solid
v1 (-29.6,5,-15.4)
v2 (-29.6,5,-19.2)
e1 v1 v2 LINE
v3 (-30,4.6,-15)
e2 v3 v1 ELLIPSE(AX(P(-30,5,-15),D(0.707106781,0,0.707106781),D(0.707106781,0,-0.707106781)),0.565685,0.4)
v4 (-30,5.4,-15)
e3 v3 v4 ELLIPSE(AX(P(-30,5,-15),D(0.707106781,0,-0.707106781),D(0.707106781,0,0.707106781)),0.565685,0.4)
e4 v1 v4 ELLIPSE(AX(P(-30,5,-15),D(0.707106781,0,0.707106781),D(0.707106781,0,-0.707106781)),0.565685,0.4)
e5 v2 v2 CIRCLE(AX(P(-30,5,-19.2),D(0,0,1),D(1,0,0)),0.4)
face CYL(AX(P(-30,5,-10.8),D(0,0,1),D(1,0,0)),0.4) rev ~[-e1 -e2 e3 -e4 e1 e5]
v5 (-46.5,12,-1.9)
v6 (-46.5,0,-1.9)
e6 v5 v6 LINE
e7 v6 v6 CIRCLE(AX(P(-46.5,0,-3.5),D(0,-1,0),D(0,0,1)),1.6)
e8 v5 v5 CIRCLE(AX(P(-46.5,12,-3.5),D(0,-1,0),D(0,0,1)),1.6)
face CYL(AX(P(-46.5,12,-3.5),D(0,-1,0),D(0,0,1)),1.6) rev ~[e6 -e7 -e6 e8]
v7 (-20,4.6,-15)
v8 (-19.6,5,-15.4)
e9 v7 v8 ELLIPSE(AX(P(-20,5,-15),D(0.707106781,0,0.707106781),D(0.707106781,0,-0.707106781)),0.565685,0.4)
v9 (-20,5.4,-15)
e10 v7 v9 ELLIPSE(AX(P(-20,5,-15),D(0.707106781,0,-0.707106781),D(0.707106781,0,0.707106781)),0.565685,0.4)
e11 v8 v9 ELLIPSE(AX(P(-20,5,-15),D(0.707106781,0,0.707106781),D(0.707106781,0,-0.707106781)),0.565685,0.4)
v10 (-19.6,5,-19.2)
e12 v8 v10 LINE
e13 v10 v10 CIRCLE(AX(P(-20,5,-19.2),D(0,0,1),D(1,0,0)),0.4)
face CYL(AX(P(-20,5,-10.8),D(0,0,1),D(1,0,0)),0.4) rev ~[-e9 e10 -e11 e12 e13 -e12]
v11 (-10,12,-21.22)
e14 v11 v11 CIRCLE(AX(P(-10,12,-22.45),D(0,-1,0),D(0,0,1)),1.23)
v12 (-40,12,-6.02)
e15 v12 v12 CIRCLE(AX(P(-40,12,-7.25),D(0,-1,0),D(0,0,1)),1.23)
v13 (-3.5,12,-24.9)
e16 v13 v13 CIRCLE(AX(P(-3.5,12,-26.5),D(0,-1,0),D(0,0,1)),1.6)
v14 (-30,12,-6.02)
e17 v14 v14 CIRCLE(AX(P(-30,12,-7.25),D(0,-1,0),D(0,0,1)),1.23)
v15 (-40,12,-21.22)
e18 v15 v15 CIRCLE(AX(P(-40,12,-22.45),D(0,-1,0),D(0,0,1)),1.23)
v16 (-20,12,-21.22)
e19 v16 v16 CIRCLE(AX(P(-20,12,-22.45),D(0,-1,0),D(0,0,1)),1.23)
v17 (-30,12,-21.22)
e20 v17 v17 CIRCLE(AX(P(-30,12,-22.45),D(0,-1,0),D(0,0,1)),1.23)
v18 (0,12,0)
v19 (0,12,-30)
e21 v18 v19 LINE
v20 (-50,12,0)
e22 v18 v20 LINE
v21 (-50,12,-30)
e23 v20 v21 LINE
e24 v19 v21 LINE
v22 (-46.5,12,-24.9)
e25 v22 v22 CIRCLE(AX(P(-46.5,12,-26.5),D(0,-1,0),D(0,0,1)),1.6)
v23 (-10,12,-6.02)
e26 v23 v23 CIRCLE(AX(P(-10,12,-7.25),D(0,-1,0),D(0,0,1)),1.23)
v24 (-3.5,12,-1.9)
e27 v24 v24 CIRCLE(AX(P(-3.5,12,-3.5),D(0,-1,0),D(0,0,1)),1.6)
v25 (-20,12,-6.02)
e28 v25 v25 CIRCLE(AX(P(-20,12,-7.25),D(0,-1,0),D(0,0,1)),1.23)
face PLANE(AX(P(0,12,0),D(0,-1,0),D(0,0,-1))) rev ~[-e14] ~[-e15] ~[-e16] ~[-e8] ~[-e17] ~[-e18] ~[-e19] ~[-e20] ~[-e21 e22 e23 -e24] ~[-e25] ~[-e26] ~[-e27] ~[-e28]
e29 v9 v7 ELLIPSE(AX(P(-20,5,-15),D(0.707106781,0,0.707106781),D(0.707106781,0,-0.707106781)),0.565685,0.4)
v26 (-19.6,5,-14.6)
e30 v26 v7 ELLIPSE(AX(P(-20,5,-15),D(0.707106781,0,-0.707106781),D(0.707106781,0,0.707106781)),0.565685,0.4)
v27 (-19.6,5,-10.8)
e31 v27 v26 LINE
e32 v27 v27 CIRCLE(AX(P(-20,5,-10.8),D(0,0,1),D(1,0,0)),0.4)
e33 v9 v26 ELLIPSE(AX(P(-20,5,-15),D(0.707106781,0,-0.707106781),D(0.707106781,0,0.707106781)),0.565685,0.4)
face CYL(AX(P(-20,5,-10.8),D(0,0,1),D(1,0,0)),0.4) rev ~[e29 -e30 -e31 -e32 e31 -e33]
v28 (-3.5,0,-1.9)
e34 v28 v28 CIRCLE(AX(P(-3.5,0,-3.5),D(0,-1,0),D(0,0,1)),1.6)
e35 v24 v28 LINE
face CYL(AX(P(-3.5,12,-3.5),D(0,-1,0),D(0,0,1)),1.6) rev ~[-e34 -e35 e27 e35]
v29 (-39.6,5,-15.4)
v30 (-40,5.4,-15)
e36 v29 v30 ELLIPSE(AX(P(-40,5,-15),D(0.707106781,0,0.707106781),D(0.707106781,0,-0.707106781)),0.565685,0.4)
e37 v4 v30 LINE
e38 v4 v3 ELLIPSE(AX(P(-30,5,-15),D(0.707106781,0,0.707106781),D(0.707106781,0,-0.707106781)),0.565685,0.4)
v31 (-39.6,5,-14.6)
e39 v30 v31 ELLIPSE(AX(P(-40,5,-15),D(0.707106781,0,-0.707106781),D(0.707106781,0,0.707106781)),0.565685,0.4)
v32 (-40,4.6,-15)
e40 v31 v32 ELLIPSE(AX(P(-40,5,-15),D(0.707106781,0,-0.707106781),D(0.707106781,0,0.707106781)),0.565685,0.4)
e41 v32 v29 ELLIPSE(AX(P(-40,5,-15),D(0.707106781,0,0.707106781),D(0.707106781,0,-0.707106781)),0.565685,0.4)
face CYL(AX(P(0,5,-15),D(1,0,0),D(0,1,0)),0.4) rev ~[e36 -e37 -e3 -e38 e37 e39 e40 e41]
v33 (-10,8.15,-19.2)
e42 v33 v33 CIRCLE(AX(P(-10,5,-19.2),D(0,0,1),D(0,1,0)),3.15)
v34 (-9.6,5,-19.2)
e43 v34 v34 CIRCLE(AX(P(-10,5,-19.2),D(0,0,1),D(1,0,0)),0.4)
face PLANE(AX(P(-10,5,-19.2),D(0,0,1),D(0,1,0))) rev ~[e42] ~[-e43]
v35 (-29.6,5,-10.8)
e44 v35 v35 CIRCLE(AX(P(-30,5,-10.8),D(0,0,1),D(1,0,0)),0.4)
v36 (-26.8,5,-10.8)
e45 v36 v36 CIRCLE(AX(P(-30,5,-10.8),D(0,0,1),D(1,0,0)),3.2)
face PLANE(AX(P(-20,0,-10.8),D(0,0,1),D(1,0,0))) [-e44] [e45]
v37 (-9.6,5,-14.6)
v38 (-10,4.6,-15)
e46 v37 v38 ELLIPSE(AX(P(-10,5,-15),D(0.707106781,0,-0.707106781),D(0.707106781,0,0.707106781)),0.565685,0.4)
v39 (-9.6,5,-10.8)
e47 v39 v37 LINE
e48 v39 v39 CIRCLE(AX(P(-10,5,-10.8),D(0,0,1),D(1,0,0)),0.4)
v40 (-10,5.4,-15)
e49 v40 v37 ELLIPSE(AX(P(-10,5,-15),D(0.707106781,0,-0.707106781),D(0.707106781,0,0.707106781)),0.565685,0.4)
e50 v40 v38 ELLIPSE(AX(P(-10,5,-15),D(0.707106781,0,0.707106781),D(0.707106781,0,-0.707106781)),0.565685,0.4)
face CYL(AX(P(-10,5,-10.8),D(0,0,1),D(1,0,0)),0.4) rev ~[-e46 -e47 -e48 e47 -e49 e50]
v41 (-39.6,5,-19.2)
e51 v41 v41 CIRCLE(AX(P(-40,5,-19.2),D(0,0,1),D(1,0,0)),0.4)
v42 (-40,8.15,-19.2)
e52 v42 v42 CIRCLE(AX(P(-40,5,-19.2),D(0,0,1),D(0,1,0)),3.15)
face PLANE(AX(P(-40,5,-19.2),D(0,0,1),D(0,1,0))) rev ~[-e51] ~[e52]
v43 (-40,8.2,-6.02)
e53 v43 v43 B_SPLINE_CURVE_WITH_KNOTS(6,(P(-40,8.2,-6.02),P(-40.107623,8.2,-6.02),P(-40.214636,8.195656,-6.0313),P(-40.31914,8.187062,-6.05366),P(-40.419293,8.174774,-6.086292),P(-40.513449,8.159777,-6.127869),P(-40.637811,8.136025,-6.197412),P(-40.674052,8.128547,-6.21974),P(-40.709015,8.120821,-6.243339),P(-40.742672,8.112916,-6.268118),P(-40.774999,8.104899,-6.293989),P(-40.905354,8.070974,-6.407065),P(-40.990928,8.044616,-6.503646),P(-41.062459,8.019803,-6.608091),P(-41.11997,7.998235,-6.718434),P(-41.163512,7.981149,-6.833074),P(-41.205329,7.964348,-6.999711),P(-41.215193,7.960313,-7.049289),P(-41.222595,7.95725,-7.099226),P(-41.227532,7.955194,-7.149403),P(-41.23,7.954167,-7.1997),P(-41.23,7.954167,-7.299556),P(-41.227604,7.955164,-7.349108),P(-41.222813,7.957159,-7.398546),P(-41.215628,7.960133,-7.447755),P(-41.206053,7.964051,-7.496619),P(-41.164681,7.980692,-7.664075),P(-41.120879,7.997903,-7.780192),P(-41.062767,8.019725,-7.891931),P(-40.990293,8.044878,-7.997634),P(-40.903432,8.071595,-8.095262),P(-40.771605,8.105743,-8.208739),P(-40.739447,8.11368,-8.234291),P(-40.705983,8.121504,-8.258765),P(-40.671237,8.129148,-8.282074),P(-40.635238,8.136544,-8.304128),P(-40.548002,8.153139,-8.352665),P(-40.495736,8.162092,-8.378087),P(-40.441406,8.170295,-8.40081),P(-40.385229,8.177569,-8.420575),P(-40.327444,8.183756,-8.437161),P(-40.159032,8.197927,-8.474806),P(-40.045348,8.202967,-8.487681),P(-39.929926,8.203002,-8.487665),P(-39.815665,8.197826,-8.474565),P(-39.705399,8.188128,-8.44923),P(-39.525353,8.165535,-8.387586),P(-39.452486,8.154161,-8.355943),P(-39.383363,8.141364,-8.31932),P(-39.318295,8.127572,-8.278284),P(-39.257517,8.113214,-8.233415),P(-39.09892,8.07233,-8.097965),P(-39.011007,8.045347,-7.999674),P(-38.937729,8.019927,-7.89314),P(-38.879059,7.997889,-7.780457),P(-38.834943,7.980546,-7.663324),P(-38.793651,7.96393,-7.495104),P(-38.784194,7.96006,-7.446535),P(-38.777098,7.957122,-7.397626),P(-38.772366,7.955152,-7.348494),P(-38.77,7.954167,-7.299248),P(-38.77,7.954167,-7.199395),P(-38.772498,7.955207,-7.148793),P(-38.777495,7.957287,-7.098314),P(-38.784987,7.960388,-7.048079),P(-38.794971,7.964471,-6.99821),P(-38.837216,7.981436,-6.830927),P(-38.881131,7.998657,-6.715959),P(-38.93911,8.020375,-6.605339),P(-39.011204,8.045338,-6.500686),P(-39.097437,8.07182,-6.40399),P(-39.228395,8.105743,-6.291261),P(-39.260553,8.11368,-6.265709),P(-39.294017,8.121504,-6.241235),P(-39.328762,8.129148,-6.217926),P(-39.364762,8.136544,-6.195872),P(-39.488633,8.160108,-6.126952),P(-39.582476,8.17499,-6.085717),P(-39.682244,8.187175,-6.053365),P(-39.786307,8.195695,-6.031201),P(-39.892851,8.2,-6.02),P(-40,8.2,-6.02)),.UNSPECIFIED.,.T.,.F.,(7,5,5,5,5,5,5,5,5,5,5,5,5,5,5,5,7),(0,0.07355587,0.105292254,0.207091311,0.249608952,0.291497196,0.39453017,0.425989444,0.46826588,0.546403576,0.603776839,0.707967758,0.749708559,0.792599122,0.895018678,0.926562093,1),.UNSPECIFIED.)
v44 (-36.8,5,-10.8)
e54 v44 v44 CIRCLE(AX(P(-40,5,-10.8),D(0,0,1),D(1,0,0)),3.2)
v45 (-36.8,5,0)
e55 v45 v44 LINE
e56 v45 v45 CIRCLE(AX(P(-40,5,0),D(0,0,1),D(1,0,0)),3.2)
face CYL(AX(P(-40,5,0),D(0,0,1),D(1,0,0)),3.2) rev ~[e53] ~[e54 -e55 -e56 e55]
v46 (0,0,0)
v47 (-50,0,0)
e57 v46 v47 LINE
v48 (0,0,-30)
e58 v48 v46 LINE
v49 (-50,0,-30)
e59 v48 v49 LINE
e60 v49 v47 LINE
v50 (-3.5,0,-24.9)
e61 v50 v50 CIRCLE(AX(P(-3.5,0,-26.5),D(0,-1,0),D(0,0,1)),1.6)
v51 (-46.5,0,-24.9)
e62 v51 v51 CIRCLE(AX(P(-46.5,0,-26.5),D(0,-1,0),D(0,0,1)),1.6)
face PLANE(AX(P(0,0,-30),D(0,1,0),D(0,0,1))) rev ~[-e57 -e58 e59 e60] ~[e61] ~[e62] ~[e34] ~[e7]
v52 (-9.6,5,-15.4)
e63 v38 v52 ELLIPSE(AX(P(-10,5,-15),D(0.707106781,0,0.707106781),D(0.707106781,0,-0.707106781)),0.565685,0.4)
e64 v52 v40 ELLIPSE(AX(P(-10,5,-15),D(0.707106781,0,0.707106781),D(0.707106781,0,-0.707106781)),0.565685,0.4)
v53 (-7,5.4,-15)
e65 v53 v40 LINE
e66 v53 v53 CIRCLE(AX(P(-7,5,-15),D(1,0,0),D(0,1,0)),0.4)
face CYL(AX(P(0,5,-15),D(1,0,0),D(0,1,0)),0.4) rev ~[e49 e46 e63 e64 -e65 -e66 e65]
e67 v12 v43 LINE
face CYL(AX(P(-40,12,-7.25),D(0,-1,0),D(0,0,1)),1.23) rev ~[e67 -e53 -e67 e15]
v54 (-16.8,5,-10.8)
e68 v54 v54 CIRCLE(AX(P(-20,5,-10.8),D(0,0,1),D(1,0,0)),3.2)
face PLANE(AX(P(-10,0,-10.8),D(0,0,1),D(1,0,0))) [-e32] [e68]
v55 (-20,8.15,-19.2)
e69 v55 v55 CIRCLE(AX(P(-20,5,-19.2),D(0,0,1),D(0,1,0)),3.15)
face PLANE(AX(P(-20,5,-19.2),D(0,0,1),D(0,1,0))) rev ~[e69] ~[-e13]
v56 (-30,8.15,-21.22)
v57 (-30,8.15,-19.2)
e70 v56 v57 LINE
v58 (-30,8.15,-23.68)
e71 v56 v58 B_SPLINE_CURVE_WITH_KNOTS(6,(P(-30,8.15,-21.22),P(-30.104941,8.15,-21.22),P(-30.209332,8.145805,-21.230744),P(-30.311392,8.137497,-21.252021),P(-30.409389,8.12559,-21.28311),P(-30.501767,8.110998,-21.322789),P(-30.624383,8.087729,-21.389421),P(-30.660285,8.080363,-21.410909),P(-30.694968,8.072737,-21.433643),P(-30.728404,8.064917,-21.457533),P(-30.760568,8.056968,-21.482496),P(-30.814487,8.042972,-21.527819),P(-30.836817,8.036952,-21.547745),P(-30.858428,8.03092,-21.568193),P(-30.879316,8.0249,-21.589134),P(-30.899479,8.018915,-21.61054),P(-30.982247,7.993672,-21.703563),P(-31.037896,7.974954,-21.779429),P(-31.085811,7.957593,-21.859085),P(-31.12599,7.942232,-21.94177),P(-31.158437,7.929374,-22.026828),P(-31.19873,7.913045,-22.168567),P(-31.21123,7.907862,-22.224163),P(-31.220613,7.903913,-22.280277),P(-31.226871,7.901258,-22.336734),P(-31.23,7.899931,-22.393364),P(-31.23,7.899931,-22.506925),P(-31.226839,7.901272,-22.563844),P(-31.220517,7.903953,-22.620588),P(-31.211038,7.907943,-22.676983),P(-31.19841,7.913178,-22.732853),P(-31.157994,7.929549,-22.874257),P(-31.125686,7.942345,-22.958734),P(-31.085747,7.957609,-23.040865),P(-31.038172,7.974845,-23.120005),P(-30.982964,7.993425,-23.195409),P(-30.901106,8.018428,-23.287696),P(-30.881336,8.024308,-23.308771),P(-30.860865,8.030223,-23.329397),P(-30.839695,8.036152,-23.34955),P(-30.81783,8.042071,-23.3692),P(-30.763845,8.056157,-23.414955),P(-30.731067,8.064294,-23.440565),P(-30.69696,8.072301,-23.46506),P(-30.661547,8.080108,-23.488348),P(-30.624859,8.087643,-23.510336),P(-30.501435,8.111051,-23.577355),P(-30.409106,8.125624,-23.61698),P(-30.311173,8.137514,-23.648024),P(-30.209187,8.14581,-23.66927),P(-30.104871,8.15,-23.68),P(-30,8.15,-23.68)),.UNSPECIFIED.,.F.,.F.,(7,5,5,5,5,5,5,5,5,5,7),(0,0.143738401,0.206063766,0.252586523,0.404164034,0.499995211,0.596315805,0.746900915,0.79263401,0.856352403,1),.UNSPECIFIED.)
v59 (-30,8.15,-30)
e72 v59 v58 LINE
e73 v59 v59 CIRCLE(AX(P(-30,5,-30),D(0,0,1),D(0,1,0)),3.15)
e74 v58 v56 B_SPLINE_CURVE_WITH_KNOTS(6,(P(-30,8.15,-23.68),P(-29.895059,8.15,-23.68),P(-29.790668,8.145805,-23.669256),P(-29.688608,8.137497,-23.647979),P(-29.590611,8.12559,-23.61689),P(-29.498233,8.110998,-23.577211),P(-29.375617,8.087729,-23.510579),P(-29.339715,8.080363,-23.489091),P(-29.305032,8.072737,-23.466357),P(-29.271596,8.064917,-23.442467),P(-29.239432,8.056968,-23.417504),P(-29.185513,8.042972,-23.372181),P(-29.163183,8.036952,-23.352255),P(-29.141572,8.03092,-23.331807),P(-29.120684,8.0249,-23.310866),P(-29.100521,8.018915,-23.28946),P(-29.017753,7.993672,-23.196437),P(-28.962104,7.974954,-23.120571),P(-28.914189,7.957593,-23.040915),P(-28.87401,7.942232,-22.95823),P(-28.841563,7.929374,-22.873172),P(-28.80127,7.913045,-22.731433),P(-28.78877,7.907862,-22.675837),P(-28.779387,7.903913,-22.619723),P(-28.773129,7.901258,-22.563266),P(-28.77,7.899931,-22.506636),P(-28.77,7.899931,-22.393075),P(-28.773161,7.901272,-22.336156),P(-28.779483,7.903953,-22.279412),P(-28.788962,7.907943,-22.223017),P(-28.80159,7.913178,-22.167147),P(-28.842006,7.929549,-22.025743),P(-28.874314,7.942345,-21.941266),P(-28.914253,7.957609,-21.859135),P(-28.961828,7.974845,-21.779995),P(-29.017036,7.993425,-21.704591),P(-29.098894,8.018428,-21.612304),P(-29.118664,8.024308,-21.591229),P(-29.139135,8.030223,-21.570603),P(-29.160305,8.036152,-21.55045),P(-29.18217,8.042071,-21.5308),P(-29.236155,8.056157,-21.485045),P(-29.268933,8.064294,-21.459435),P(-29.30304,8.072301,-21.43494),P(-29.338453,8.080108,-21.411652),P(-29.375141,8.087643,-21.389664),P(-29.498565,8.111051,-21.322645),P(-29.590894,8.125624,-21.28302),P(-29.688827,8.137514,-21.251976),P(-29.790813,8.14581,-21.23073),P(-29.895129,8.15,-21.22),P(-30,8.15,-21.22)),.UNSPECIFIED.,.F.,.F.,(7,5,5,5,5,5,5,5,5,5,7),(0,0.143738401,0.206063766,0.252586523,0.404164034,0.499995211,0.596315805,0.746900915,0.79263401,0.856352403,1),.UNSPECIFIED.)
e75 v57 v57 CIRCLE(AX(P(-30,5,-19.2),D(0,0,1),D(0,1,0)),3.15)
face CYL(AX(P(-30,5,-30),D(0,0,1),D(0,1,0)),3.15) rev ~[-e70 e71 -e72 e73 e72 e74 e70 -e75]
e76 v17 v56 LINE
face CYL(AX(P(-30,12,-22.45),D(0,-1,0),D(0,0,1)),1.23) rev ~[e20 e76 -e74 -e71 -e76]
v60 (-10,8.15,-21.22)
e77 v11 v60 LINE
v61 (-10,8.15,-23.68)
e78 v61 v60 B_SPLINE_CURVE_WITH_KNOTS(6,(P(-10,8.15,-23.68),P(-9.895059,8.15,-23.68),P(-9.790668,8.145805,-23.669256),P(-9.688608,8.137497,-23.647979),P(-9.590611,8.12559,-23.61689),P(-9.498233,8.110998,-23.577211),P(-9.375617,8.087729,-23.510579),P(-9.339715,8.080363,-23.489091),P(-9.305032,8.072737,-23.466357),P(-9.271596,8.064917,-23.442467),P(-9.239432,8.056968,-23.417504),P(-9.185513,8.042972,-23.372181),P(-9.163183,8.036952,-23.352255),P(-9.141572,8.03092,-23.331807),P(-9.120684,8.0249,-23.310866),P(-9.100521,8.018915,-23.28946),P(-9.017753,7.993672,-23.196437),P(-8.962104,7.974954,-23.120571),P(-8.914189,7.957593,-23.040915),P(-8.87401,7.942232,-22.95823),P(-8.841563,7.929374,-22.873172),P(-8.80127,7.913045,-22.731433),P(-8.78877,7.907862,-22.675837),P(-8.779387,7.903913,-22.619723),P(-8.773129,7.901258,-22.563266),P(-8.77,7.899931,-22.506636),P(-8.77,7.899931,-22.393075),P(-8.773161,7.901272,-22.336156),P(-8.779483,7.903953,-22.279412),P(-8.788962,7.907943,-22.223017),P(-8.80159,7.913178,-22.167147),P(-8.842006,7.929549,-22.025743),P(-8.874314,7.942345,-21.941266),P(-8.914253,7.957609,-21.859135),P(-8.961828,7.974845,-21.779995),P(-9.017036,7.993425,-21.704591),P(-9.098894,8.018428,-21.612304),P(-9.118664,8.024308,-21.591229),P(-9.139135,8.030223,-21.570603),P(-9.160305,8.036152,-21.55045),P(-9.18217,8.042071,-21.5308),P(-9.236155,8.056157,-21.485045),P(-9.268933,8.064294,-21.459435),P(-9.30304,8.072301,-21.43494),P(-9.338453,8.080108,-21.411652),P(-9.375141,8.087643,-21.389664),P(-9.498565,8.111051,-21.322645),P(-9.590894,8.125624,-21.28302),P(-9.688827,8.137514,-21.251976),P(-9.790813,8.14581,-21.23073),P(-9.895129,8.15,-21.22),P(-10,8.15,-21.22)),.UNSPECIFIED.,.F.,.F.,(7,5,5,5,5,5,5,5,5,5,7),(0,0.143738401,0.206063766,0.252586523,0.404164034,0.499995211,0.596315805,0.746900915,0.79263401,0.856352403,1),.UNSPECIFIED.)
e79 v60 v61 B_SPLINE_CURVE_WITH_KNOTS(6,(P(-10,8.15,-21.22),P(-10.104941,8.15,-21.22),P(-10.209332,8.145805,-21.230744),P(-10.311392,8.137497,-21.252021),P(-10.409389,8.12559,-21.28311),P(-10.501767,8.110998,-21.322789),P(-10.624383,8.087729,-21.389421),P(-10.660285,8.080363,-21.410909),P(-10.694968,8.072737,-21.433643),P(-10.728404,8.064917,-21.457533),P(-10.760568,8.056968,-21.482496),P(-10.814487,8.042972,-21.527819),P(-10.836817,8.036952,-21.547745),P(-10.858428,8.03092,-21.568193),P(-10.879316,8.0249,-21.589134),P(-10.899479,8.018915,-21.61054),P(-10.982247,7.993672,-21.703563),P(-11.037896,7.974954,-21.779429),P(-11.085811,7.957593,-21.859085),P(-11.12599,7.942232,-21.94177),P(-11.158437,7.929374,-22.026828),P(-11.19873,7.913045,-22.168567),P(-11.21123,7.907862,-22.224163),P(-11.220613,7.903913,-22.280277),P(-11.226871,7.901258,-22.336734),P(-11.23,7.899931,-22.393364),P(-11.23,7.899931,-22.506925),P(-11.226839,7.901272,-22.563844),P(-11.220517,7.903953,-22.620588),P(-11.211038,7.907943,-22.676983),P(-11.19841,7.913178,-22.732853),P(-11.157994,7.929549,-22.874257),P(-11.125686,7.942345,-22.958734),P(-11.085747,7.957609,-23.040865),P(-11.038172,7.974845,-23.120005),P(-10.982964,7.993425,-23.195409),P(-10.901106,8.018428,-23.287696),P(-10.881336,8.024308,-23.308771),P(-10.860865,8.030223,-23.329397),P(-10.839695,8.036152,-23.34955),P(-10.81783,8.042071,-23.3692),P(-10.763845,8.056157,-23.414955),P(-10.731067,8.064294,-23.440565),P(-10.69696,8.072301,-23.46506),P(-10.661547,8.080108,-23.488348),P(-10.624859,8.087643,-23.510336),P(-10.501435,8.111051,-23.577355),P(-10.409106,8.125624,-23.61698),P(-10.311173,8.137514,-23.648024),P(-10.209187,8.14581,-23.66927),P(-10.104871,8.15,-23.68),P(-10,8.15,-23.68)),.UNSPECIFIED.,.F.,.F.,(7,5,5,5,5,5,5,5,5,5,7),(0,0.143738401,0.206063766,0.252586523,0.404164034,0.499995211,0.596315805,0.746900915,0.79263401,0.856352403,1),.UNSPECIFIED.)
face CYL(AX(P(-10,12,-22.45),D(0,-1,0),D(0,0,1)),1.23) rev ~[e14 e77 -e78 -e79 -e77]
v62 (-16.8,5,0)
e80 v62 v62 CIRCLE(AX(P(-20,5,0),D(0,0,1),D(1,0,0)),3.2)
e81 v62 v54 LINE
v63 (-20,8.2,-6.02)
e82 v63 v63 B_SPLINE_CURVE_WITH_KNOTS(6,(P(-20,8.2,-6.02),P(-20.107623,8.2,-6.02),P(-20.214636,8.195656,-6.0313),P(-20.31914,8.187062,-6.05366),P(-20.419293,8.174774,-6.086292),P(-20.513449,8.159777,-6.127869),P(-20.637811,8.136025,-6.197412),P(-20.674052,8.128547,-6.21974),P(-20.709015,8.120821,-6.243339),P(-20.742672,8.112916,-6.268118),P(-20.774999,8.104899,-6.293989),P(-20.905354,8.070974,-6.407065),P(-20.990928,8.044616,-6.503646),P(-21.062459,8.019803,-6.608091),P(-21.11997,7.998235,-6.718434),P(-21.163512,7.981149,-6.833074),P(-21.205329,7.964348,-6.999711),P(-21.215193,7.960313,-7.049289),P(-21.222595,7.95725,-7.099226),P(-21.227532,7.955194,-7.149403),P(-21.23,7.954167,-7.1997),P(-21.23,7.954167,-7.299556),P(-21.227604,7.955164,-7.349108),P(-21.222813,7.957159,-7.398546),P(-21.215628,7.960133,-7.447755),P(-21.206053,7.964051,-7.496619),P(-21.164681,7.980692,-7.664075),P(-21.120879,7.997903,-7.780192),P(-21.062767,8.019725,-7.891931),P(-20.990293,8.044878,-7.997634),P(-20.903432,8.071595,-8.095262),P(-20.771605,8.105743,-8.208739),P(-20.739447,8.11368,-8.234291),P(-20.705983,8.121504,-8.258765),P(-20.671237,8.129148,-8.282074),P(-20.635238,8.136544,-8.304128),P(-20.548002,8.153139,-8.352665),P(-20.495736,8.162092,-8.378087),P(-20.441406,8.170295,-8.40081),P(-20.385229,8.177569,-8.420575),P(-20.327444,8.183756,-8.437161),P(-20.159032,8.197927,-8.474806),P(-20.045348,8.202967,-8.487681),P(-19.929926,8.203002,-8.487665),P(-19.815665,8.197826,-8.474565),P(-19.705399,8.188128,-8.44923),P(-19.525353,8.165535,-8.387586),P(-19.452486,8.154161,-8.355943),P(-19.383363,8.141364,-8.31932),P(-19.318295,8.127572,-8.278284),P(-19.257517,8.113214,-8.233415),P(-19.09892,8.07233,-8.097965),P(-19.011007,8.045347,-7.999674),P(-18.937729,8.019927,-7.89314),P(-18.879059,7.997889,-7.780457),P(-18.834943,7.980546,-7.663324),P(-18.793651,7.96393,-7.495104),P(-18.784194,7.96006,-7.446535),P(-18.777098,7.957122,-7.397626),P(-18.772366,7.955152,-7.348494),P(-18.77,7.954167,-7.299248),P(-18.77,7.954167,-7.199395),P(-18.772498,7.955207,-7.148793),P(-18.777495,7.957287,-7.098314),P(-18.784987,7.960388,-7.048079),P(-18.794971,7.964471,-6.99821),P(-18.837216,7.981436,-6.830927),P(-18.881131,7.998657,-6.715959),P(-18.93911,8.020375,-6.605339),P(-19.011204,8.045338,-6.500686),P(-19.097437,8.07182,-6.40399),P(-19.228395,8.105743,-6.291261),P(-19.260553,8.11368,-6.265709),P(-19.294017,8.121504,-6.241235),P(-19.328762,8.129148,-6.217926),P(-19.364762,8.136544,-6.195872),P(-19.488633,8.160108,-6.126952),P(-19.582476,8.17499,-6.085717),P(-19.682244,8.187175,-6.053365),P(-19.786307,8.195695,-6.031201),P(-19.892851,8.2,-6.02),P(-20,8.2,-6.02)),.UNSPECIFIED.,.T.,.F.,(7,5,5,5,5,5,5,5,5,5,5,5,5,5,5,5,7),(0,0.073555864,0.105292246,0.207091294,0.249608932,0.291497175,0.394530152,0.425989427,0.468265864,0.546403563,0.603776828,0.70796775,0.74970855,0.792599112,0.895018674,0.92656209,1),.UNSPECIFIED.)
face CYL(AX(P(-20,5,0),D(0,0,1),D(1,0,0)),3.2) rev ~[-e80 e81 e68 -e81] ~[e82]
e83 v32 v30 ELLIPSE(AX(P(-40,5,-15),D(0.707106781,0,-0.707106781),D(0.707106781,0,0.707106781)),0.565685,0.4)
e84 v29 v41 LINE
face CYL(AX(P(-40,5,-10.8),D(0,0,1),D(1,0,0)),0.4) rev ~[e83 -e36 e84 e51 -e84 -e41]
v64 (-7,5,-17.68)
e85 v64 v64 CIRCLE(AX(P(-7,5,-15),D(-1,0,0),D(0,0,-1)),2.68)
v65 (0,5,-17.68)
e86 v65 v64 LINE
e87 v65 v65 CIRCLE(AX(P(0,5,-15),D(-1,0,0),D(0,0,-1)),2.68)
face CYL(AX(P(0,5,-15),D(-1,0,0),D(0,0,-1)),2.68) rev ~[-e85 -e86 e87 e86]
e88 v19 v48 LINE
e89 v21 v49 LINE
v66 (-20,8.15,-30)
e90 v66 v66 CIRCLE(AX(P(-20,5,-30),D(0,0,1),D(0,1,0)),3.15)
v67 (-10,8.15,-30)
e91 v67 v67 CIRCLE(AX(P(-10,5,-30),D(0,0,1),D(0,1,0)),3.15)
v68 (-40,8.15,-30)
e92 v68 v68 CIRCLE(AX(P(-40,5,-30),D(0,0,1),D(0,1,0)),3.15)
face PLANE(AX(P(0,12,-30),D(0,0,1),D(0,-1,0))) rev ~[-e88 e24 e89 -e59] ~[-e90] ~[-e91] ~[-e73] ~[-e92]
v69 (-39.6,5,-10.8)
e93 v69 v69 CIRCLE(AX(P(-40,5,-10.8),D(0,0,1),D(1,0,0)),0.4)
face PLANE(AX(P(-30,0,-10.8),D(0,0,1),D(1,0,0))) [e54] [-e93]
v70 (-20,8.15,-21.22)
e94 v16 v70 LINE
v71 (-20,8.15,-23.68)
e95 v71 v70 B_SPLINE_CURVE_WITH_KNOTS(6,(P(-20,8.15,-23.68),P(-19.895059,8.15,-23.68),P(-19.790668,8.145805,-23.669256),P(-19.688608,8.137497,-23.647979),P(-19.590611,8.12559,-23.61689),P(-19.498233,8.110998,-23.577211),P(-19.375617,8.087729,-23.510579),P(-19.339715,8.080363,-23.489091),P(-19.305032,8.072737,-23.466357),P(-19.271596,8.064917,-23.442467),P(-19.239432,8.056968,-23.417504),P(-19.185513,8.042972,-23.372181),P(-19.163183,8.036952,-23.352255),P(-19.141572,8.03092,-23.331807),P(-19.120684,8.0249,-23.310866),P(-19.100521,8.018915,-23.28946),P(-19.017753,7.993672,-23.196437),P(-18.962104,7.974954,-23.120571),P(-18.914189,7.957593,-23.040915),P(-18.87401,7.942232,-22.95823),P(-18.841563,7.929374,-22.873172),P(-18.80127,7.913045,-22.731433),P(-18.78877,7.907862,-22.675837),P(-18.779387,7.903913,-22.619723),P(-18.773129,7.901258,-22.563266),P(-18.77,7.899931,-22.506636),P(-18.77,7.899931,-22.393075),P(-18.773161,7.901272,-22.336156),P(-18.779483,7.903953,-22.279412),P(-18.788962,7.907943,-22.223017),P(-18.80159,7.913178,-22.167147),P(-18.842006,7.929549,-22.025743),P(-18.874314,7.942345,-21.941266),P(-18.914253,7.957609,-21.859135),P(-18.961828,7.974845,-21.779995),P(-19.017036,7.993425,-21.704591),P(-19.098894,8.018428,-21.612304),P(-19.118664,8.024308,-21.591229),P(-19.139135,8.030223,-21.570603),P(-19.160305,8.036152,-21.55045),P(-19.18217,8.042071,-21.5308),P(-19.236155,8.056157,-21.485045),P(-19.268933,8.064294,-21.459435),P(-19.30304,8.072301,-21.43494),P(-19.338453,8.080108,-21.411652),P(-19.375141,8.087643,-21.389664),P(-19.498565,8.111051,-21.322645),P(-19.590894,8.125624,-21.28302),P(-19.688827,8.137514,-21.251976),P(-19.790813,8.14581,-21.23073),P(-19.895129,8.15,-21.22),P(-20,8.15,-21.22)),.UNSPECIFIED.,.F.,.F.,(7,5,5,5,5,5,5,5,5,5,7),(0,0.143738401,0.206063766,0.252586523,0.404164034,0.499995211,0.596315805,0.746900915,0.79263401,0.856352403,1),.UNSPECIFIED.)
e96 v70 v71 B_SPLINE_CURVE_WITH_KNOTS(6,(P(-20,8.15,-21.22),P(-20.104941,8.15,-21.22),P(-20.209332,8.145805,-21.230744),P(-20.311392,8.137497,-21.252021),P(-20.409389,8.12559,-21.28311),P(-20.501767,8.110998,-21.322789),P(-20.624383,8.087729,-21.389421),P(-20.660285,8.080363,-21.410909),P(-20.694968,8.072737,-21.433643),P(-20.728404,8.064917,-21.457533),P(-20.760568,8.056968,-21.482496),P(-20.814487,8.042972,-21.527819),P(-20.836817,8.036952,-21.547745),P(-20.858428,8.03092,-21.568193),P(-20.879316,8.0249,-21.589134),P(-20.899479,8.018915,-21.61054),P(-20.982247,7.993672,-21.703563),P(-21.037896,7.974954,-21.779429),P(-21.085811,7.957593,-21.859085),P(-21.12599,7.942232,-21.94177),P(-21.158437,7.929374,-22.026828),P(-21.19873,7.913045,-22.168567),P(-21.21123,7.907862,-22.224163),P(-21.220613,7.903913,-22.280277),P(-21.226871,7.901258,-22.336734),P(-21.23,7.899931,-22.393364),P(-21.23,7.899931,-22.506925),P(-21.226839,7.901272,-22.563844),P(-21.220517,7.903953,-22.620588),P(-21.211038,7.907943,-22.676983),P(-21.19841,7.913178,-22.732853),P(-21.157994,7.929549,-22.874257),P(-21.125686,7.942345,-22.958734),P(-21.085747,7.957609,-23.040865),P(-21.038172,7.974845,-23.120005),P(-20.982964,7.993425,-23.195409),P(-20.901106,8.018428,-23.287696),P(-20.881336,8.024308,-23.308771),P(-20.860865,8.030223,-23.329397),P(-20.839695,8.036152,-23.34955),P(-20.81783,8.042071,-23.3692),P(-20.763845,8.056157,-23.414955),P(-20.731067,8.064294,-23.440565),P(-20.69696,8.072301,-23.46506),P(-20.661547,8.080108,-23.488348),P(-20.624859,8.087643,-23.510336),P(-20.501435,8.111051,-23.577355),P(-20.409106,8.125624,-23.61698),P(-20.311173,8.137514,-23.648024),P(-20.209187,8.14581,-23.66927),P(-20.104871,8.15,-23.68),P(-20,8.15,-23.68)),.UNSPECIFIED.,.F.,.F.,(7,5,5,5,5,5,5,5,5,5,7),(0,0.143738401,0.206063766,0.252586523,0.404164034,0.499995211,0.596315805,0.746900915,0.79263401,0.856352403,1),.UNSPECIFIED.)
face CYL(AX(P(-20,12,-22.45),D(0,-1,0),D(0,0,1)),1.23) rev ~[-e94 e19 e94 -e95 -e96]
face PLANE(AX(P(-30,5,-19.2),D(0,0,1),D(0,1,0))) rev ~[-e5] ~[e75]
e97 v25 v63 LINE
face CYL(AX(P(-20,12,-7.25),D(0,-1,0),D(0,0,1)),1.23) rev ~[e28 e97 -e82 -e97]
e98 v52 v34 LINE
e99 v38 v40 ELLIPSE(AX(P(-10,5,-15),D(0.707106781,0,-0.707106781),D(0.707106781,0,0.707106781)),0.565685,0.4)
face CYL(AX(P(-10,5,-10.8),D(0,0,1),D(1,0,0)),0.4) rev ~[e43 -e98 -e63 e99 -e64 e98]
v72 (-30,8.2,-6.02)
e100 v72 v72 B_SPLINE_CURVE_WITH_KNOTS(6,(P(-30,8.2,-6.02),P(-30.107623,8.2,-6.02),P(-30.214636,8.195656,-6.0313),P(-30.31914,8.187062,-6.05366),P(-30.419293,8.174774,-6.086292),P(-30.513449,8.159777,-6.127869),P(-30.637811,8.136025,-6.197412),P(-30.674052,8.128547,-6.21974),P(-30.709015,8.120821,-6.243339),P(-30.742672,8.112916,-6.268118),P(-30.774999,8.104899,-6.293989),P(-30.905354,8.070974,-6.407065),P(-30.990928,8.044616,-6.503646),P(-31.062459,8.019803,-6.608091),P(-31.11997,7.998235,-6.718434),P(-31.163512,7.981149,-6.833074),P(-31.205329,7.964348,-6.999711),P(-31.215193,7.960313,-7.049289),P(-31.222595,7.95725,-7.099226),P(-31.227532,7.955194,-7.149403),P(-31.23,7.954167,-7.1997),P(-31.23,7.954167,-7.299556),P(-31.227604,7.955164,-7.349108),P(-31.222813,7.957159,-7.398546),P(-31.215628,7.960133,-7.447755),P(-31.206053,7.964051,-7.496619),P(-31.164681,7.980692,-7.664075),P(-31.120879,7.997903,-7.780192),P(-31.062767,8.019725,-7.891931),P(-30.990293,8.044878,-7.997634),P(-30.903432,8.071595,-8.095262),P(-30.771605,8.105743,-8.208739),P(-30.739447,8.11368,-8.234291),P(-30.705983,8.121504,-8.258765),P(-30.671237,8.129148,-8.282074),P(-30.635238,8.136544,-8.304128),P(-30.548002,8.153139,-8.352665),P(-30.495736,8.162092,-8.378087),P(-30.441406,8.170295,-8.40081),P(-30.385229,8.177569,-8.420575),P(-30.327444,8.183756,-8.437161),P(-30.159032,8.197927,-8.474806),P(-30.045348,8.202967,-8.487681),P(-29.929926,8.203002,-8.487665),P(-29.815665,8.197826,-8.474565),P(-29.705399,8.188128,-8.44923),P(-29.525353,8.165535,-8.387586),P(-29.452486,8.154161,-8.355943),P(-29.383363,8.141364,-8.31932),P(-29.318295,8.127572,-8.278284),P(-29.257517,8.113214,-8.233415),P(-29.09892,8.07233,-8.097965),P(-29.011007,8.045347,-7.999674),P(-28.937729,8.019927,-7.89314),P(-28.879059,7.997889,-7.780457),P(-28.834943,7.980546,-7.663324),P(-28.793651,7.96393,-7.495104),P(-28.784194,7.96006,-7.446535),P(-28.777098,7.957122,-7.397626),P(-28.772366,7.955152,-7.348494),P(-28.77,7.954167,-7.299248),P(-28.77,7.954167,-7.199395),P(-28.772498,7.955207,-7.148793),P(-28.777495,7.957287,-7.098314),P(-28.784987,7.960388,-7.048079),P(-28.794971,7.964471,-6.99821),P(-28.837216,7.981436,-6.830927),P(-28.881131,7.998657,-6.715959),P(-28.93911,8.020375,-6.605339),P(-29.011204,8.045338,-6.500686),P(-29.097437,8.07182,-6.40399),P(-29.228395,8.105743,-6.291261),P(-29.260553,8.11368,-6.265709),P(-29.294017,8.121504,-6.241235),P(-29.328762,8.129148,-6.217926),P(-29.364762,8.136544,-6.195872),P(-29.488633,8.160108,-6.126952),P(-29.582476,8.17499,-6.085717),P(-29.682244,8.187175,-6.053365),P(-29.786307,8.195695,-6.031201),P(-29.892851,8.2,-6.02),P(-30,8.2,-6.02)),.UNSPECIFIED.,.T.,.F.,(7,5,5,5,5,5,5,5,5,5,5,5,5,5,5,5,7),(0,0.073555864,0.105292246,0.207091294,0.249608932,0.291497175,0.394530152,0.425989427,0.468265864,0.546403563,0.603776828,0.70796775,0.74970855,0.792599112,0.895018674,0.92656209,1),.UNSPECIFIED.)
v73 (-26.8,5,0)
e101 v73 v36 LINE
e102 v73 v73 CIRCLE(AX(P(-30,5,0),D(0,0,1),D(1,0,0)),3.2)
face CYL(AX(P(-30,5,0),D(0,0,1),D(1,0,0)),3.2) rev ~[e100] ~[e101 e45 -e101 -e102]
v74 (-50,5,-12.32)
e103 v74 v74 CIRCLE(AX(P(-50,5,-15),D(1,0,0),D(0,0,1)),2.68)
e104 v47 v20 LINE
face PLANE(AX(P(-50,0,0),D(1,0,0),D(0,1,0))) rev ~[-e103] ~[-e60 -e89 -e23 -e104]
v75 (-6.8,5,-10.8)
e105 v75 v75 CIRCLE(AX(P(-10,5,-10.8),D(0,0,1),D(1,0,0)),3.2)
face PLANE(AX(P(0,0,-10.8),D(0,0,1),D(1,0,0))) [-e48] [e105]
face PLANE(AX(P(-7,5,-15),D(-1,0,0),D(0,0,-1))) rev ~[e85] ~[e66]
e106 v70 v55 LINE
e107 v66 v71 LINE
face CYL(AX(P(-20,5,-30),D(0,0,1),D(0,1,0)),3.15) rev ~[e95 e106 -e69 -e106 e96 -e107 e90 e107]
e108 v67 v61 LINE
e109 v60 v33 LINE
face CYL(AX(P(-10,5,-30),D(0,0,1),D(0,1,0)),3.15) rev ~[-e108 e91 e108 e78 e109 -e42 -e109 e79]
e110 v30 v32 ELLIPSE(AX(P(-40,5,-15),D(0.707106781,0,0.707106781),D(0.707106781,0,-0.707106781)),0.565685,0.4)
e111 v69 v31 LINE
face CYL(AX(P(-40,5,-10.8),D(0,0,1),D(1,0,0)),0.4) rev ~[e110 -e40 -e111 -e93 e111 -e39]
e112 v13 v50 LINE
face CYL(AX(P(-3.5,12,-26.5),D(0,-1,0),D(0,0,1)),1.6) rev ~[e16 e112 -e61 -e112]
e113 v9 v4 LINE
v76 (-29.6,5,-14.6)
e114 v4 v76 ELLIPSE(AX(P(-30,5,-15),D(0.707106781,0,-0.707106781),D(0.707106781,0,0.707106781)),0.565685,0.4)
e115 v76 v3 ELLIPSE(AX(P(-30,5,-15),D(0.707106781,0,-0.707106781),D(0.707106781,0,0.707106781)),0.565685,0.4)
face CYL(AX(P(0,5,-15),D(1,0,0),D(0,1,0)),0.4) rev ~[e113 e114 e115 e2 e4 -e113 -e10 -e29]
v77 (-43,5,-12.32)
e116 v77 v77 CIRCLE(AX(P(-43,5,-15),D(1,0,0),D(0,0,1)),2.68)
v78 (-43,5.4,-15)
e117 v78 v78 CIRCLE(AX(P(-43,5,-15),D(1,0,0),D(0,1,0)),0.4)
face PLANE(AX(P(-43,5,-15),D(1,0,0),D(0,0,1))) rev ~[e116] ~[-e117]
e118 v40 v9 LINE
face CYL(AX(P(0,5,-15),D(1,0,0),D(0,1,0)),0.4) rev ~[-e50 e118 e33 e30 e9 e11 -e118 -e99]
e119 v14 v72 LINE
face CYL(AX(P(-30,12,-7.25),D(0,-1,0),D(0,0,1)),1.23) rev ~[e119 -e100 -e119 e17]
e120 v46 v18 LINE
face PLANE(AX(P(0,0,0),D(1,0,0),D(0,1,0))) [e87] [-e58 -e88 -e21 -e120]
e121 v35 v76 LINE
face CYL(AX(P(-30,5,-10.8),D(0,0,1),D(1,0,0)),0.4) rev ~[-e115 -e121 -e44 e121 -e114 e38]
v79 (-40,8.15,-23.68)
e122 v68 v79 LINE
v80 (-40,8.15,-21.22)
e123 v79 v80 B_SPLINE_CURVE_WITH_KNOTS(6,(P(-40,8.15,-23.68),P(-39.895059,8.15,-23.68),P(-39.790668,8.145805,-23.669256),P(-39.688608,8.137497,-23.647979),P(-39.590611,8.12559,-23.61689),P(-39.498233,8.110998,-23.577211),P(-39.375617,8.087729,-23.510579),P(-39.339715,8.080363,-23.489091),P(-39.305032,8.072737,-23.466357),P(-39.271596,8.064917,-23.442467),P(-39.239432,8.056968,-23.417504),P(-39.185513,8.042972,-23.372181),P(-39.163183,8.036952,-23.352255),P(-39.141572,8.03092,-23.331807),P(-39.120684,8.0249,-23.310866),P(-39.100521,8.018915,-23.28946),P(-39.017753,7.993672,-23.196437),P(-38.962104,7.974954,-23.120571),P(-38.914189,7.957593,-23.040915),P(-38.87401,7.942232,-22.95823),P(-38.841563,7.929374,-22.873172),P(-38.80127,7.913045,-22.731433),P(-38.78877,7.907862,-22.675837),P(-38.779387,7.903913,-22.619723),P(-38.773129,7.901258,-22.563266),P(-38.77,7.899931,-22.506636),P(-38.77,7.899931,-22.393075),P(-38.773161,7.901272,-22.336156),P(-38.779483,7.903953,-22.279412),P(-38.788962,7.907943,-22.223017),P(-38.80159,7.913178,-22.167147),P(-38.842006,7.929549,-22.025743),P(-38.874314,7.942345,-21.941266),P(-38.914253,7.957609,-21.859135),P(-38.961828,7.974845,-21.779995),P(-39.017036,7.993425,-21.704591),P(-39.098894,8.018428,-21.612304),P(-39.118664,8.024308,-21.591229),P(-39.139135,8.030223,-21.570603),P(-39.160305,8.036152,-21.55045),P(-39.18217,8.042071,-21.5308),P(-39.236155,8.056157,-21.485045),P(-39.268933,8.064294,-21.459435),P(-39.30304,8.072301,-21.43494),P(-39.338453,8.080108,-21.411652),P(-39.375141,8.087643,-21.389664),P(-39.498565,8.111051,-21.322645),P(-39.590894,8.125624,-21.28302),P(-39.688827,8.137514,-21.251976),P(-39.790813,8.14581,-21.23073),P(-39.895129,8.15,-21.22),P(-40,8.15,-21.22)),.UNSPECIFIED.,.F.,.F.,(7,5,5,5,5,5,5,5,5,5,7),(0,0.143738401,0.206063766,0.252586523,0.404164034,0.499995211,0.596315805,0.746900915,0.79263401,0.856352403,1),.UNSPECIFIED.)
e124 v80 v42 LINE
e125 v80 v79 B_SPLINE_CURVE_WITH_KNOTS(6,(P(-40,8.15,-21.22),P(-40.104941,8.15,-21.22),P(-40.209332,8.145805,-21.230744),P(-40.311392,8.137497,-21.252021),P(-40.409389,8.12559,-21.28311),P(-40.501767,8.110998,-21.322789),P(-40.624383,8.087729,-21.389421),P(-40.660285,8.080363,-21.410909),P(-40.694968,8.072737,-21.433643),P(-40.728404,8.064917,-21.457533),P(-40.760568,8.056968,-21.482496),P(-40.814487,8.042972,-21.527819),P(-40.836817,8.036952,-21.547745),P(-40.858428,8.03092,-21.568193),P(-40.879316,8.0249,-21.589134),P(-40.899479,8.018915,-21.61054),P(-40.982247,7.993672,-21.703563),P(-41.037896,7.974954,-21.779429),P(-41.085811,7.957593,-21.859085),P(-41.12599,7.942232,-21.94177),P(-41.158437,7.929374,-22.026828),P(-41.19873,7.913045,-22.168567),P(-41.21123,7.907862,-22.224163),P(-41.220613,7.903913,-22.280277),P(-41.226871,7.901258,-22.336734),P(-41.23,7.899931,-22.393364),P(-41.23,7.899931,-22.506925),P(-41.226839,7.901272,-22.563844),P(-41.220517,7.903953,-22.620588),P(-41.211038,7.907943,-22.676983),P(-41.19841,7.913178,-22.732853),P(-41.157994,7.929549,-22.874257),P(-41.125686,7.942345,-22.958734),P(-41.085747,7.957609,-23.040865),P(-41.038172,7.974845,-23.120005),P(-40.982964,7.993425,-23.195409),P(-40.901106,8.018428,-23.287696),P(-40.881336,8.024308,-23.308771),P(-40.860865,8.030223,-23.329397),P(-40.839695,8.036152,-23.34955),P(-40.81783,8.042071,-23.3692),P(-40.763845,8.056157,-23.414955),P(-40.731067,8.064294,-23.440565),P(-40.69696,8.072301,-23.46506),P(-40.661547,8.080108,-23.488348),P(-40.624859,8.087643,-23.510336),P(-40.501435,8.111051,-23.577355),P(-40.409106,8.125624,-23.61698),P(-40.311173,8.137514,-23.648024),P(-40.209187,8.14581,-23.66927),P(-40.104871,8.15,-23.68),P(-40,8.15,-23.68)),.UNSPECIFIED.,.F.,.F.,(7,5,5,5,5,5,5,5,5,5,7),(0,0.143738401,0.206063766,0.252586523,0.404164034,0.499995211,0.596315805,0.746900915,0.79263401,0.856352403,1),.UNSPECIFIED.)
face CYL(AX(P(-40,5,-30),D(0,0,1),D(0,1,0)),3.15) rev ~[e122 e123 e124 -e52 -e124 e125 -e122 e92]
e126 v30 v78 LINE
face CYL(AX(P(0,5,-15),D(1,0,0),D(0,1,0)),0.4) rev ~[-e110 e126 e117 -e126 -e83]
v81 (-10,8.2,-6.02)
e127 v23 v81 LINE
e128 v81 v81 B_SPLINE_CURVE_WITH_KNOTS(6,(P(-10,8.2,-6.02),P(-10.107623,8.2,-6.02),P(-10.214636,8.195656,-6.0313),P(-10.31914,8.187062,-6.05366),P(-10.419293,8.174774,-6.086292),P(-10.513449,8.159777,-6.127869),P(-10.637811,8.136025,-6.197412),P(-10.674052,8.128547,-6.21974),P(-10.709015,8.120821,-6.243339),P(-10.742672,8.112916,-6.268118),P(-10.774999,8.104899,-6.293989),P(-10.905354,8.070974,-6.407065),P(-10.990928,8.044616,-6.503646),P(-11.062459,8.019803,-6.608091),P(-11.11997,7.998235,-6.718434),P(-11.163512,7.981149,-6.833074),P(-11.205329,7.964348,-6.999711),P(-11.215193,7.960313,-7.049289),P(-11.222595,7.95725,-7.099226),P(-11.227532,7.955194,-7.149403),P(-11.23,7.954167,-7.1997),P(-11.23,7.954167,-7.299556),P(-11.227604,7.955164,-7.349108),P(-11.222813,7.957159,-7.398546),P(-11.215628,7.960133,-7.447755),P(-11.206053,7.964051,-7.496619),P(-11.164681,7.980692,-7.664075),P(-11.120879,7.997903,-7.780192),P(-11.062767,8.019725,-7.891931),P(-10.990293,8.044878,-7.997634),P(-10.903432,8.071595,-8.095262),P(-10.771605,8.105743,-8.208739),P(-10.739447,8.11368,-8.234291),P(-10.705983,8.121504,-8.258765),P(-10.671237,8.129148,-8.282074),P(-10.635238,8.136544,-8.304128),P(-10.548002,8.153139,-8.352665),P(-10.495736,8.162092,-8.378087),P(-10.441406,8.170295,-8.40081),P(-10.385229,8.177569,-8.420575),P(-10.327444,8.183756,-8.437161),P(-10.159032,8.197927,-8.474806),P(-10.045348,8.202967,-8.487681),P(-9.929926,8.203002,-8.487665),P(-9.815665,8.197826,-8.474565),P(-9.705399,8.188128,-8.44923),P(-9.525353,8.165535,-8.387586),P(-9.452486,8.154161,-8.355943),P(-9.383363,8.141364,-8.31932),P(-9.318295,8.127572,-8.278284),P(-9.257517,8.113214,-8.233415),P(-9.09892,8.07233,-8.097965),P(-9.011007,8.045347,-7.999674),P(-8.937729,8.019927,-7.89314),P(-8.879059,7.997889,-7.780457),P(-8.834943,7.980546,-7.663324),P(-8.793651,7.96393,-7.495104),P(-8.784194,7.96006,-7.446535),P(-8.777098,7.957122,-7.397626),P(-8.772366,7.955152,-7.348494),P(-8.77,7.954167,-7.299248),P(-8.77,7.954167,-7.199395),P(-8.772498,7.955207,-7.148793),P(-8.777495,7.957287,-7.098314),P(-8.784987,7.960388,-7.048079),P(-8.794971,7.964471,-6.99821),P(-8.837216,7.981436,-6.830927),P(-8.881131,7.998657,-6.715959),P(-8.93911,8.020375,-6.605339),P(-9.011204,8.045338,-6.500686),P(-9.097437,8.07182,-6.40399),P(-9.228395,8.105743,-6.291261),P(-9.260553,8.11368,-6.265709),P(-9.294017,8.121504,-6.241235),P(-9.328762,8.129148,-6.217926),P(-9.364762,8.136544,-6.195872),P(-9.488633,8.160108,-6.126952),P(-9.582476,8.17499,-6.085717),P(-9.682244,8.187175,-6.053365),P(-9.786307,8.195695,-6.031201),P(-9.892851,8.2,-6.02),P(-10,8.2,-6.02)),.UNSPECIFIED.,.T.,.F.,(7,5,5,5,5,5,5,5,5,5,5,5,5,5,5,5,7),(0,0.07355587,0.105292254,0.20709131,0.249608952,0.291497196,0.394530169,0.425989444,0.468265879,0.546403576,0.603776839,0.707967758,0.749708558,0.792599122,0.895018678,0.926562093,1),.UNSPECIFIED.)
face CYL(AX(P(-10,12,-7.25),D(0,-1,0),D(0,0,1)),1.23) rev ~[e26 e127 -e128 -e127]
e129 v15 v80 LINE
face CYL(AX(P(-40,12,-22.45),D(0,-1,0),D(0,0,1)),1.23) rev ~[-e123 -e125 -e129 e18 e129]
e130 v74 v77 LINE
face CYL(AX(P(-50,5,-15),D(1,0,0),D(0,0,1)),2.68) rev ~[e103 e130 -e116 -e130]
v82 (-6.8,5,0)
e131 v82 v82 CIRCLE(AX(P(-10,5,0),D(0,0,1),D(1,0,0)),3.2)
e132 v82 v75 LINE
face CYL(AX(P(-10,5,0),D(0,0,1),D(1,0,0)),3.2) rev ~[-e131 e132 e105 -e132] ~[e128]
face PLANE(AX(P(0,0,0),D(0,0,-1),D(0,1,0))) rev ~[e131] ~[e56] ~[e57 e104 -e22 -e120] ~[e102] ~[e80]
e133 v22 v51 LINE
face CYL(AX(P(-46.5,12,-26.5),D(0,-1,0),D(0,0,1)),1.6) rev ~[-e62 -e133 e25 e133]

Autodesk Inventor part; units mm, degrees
sketch "Sketch1" plane through (0, 0, 0) normal (1, 0, 0) x (0, 1, 0)
  line L0 (0, 0) -> (12, 0)
  line L1 (12, 0) -> (12, -30)
  line L2 (12, -30) -> (0, -30)
  line L3 (0, -30) -> (0, 0)
  circle A0 centre (5, -15) radius 0.4
  dimension "d0" = 30
  dimension "d1" = 12
  dimension "d2" = 5
  dimension "d3" = 15
  dimension "d4" = 0.8
extrude "Extrusion1" add sketch "Sketch1" against normal blind 50
ref_plane "Work Plane1" through (0, 0, -15) normal (0, 0, 1) x (1, 0, 0)
sketch "Sketch2" plane through (0, 0, 0) normal (0, 0, 1) x (1, 0, 0)
  line L0 (0, 0) -> (-50, 0) projected
  line L1 (0, 0) -> (0, 12) projected
  circle A0 centre (-10, 5) radius 3.2
  dimension "d7" = 6.4
  dimension "d8" = 5
  dimension "d9" = 10
extrude "Extrusion4" cut sketch "Sketch2" against normal blind 10.8
pattern_linear "Rectangular Pattern1" count 4 spacing 10 along (-1, 0, 0) of "Extrusion4"
ref_plane "Work Plane2" through (0, 5, -14.6) normal (0, 0, 1) x (1, 0, 0)
sketch "Sketch3" plane through (-10, 5, -10.8) normal (0, 0, 1) x (1, 0, 0)
  circle A0 centre (0, 0) radius 0.4
  circle A1 centre (0, 0) radius 3.2 projected
  point P0 (10, -5)
  dimension "d20" = 0.8
extrude "Extrusion5" cut sketch "Sketch3" against normal blind 10 contours A0
pattern_linear "Rectangular Pattern2" count 4 spacing 10 along (-1, 0, 0) of "Extrusion5"
ref_plane "Work Plane3" through (0, 6, -30) normal (0, -1, 0) x (1, 0, 0)
sketch "Sketch4" plane through (0, 12, 0) normal (0, 1, 0) x (1, 0, 0)
  line L0 (0, 0) -> (0, 30) projected
  line L1 (0, 0) -> (-50, 0) projected
  circle A0 centre (-10, 7.25) radius 0.4
  circle A1 centre (-3.5, 3.5) radius 1.6
  dimension "d26" = 0.8
  dimension "d27" = 7.25
  dimension "d28" = 10
  dimension "d93" = 3.2
  dimension "d94" = 3.5
  dimension "d95" = 3.5
hole "Hole1" at (-10, 12, -7.25) direction (0, -1, 0) diameter 2.46 depth 7 thread size "M3x0.5" class "6H" standard "ANSI Metric M Profile"
pattern_linear "Rectangular Pattern4" count 4 spacing 10 along (-1, 0, 0) count 2 spacing 15.2 along (0, 0, -1) of "Hole1"
sketch "Sketch5" plane through (0, 0, -30) normal (0, 0, -1) x (-1, 0, 0)
  circle A0 centre (10, 5) radius 3.2
  line L0 (0, 12) -> (50, 12) projected
  line L1 (0, 12) -> (0, 0) projected
  line L2 (0, 0) -> (50, 0) projected
  dimension "d47" = 6.4
  dimension "d49" = 10
  dimension "d109" = 5
hole "Hole2" at (-10, 5, -30) direction (0, 0, 1) diameter 6.3 depth 10.8
pattern_linear "Rectangular Pattern5" count 4 spacing 10 along (-1, 0, 0) of "Hole2", "Extrusion4"
hole "Hole3" at (0, 5, -15) direction (-1, 0, 0) diameter 5.36 depth 7 thread size "1/4-28 UNF" class "2B" standard "ANSI Unified Screw Threads"
sketch "Sketch6" plane through (-50, 0, 0) normal (-1, 0, 0) x (0, 0, 1)
  circle A0 centre (-15, 5) radius 2.15
  line L0 (-30, 0) -> (0, 0) projected
  dimension "d67" = 15
  dimension "d68" = 5
  dimension "d69" = 4.3
hole "Hole4" at (-50, 5, -15) direction (1, 0, 0) diameter 5.36 depth 7 thread size "1/4-28 UNF" class "2B" standard "ANSI Unified Screw Threads"
hole "Hole5" at (-3.5, 12, -3.5) direction (0, -1, 0) diameter 3.2 end through all
pattern_linear "Rectangular Pattern6" count 2 spacing 43 along (-1, 0, 0) count 2 spacing 23 along (0, 0, -1) of "Hole5"
equation "\"d3\" = 0.5 * d0"
properties part number "Manifold_v5"
